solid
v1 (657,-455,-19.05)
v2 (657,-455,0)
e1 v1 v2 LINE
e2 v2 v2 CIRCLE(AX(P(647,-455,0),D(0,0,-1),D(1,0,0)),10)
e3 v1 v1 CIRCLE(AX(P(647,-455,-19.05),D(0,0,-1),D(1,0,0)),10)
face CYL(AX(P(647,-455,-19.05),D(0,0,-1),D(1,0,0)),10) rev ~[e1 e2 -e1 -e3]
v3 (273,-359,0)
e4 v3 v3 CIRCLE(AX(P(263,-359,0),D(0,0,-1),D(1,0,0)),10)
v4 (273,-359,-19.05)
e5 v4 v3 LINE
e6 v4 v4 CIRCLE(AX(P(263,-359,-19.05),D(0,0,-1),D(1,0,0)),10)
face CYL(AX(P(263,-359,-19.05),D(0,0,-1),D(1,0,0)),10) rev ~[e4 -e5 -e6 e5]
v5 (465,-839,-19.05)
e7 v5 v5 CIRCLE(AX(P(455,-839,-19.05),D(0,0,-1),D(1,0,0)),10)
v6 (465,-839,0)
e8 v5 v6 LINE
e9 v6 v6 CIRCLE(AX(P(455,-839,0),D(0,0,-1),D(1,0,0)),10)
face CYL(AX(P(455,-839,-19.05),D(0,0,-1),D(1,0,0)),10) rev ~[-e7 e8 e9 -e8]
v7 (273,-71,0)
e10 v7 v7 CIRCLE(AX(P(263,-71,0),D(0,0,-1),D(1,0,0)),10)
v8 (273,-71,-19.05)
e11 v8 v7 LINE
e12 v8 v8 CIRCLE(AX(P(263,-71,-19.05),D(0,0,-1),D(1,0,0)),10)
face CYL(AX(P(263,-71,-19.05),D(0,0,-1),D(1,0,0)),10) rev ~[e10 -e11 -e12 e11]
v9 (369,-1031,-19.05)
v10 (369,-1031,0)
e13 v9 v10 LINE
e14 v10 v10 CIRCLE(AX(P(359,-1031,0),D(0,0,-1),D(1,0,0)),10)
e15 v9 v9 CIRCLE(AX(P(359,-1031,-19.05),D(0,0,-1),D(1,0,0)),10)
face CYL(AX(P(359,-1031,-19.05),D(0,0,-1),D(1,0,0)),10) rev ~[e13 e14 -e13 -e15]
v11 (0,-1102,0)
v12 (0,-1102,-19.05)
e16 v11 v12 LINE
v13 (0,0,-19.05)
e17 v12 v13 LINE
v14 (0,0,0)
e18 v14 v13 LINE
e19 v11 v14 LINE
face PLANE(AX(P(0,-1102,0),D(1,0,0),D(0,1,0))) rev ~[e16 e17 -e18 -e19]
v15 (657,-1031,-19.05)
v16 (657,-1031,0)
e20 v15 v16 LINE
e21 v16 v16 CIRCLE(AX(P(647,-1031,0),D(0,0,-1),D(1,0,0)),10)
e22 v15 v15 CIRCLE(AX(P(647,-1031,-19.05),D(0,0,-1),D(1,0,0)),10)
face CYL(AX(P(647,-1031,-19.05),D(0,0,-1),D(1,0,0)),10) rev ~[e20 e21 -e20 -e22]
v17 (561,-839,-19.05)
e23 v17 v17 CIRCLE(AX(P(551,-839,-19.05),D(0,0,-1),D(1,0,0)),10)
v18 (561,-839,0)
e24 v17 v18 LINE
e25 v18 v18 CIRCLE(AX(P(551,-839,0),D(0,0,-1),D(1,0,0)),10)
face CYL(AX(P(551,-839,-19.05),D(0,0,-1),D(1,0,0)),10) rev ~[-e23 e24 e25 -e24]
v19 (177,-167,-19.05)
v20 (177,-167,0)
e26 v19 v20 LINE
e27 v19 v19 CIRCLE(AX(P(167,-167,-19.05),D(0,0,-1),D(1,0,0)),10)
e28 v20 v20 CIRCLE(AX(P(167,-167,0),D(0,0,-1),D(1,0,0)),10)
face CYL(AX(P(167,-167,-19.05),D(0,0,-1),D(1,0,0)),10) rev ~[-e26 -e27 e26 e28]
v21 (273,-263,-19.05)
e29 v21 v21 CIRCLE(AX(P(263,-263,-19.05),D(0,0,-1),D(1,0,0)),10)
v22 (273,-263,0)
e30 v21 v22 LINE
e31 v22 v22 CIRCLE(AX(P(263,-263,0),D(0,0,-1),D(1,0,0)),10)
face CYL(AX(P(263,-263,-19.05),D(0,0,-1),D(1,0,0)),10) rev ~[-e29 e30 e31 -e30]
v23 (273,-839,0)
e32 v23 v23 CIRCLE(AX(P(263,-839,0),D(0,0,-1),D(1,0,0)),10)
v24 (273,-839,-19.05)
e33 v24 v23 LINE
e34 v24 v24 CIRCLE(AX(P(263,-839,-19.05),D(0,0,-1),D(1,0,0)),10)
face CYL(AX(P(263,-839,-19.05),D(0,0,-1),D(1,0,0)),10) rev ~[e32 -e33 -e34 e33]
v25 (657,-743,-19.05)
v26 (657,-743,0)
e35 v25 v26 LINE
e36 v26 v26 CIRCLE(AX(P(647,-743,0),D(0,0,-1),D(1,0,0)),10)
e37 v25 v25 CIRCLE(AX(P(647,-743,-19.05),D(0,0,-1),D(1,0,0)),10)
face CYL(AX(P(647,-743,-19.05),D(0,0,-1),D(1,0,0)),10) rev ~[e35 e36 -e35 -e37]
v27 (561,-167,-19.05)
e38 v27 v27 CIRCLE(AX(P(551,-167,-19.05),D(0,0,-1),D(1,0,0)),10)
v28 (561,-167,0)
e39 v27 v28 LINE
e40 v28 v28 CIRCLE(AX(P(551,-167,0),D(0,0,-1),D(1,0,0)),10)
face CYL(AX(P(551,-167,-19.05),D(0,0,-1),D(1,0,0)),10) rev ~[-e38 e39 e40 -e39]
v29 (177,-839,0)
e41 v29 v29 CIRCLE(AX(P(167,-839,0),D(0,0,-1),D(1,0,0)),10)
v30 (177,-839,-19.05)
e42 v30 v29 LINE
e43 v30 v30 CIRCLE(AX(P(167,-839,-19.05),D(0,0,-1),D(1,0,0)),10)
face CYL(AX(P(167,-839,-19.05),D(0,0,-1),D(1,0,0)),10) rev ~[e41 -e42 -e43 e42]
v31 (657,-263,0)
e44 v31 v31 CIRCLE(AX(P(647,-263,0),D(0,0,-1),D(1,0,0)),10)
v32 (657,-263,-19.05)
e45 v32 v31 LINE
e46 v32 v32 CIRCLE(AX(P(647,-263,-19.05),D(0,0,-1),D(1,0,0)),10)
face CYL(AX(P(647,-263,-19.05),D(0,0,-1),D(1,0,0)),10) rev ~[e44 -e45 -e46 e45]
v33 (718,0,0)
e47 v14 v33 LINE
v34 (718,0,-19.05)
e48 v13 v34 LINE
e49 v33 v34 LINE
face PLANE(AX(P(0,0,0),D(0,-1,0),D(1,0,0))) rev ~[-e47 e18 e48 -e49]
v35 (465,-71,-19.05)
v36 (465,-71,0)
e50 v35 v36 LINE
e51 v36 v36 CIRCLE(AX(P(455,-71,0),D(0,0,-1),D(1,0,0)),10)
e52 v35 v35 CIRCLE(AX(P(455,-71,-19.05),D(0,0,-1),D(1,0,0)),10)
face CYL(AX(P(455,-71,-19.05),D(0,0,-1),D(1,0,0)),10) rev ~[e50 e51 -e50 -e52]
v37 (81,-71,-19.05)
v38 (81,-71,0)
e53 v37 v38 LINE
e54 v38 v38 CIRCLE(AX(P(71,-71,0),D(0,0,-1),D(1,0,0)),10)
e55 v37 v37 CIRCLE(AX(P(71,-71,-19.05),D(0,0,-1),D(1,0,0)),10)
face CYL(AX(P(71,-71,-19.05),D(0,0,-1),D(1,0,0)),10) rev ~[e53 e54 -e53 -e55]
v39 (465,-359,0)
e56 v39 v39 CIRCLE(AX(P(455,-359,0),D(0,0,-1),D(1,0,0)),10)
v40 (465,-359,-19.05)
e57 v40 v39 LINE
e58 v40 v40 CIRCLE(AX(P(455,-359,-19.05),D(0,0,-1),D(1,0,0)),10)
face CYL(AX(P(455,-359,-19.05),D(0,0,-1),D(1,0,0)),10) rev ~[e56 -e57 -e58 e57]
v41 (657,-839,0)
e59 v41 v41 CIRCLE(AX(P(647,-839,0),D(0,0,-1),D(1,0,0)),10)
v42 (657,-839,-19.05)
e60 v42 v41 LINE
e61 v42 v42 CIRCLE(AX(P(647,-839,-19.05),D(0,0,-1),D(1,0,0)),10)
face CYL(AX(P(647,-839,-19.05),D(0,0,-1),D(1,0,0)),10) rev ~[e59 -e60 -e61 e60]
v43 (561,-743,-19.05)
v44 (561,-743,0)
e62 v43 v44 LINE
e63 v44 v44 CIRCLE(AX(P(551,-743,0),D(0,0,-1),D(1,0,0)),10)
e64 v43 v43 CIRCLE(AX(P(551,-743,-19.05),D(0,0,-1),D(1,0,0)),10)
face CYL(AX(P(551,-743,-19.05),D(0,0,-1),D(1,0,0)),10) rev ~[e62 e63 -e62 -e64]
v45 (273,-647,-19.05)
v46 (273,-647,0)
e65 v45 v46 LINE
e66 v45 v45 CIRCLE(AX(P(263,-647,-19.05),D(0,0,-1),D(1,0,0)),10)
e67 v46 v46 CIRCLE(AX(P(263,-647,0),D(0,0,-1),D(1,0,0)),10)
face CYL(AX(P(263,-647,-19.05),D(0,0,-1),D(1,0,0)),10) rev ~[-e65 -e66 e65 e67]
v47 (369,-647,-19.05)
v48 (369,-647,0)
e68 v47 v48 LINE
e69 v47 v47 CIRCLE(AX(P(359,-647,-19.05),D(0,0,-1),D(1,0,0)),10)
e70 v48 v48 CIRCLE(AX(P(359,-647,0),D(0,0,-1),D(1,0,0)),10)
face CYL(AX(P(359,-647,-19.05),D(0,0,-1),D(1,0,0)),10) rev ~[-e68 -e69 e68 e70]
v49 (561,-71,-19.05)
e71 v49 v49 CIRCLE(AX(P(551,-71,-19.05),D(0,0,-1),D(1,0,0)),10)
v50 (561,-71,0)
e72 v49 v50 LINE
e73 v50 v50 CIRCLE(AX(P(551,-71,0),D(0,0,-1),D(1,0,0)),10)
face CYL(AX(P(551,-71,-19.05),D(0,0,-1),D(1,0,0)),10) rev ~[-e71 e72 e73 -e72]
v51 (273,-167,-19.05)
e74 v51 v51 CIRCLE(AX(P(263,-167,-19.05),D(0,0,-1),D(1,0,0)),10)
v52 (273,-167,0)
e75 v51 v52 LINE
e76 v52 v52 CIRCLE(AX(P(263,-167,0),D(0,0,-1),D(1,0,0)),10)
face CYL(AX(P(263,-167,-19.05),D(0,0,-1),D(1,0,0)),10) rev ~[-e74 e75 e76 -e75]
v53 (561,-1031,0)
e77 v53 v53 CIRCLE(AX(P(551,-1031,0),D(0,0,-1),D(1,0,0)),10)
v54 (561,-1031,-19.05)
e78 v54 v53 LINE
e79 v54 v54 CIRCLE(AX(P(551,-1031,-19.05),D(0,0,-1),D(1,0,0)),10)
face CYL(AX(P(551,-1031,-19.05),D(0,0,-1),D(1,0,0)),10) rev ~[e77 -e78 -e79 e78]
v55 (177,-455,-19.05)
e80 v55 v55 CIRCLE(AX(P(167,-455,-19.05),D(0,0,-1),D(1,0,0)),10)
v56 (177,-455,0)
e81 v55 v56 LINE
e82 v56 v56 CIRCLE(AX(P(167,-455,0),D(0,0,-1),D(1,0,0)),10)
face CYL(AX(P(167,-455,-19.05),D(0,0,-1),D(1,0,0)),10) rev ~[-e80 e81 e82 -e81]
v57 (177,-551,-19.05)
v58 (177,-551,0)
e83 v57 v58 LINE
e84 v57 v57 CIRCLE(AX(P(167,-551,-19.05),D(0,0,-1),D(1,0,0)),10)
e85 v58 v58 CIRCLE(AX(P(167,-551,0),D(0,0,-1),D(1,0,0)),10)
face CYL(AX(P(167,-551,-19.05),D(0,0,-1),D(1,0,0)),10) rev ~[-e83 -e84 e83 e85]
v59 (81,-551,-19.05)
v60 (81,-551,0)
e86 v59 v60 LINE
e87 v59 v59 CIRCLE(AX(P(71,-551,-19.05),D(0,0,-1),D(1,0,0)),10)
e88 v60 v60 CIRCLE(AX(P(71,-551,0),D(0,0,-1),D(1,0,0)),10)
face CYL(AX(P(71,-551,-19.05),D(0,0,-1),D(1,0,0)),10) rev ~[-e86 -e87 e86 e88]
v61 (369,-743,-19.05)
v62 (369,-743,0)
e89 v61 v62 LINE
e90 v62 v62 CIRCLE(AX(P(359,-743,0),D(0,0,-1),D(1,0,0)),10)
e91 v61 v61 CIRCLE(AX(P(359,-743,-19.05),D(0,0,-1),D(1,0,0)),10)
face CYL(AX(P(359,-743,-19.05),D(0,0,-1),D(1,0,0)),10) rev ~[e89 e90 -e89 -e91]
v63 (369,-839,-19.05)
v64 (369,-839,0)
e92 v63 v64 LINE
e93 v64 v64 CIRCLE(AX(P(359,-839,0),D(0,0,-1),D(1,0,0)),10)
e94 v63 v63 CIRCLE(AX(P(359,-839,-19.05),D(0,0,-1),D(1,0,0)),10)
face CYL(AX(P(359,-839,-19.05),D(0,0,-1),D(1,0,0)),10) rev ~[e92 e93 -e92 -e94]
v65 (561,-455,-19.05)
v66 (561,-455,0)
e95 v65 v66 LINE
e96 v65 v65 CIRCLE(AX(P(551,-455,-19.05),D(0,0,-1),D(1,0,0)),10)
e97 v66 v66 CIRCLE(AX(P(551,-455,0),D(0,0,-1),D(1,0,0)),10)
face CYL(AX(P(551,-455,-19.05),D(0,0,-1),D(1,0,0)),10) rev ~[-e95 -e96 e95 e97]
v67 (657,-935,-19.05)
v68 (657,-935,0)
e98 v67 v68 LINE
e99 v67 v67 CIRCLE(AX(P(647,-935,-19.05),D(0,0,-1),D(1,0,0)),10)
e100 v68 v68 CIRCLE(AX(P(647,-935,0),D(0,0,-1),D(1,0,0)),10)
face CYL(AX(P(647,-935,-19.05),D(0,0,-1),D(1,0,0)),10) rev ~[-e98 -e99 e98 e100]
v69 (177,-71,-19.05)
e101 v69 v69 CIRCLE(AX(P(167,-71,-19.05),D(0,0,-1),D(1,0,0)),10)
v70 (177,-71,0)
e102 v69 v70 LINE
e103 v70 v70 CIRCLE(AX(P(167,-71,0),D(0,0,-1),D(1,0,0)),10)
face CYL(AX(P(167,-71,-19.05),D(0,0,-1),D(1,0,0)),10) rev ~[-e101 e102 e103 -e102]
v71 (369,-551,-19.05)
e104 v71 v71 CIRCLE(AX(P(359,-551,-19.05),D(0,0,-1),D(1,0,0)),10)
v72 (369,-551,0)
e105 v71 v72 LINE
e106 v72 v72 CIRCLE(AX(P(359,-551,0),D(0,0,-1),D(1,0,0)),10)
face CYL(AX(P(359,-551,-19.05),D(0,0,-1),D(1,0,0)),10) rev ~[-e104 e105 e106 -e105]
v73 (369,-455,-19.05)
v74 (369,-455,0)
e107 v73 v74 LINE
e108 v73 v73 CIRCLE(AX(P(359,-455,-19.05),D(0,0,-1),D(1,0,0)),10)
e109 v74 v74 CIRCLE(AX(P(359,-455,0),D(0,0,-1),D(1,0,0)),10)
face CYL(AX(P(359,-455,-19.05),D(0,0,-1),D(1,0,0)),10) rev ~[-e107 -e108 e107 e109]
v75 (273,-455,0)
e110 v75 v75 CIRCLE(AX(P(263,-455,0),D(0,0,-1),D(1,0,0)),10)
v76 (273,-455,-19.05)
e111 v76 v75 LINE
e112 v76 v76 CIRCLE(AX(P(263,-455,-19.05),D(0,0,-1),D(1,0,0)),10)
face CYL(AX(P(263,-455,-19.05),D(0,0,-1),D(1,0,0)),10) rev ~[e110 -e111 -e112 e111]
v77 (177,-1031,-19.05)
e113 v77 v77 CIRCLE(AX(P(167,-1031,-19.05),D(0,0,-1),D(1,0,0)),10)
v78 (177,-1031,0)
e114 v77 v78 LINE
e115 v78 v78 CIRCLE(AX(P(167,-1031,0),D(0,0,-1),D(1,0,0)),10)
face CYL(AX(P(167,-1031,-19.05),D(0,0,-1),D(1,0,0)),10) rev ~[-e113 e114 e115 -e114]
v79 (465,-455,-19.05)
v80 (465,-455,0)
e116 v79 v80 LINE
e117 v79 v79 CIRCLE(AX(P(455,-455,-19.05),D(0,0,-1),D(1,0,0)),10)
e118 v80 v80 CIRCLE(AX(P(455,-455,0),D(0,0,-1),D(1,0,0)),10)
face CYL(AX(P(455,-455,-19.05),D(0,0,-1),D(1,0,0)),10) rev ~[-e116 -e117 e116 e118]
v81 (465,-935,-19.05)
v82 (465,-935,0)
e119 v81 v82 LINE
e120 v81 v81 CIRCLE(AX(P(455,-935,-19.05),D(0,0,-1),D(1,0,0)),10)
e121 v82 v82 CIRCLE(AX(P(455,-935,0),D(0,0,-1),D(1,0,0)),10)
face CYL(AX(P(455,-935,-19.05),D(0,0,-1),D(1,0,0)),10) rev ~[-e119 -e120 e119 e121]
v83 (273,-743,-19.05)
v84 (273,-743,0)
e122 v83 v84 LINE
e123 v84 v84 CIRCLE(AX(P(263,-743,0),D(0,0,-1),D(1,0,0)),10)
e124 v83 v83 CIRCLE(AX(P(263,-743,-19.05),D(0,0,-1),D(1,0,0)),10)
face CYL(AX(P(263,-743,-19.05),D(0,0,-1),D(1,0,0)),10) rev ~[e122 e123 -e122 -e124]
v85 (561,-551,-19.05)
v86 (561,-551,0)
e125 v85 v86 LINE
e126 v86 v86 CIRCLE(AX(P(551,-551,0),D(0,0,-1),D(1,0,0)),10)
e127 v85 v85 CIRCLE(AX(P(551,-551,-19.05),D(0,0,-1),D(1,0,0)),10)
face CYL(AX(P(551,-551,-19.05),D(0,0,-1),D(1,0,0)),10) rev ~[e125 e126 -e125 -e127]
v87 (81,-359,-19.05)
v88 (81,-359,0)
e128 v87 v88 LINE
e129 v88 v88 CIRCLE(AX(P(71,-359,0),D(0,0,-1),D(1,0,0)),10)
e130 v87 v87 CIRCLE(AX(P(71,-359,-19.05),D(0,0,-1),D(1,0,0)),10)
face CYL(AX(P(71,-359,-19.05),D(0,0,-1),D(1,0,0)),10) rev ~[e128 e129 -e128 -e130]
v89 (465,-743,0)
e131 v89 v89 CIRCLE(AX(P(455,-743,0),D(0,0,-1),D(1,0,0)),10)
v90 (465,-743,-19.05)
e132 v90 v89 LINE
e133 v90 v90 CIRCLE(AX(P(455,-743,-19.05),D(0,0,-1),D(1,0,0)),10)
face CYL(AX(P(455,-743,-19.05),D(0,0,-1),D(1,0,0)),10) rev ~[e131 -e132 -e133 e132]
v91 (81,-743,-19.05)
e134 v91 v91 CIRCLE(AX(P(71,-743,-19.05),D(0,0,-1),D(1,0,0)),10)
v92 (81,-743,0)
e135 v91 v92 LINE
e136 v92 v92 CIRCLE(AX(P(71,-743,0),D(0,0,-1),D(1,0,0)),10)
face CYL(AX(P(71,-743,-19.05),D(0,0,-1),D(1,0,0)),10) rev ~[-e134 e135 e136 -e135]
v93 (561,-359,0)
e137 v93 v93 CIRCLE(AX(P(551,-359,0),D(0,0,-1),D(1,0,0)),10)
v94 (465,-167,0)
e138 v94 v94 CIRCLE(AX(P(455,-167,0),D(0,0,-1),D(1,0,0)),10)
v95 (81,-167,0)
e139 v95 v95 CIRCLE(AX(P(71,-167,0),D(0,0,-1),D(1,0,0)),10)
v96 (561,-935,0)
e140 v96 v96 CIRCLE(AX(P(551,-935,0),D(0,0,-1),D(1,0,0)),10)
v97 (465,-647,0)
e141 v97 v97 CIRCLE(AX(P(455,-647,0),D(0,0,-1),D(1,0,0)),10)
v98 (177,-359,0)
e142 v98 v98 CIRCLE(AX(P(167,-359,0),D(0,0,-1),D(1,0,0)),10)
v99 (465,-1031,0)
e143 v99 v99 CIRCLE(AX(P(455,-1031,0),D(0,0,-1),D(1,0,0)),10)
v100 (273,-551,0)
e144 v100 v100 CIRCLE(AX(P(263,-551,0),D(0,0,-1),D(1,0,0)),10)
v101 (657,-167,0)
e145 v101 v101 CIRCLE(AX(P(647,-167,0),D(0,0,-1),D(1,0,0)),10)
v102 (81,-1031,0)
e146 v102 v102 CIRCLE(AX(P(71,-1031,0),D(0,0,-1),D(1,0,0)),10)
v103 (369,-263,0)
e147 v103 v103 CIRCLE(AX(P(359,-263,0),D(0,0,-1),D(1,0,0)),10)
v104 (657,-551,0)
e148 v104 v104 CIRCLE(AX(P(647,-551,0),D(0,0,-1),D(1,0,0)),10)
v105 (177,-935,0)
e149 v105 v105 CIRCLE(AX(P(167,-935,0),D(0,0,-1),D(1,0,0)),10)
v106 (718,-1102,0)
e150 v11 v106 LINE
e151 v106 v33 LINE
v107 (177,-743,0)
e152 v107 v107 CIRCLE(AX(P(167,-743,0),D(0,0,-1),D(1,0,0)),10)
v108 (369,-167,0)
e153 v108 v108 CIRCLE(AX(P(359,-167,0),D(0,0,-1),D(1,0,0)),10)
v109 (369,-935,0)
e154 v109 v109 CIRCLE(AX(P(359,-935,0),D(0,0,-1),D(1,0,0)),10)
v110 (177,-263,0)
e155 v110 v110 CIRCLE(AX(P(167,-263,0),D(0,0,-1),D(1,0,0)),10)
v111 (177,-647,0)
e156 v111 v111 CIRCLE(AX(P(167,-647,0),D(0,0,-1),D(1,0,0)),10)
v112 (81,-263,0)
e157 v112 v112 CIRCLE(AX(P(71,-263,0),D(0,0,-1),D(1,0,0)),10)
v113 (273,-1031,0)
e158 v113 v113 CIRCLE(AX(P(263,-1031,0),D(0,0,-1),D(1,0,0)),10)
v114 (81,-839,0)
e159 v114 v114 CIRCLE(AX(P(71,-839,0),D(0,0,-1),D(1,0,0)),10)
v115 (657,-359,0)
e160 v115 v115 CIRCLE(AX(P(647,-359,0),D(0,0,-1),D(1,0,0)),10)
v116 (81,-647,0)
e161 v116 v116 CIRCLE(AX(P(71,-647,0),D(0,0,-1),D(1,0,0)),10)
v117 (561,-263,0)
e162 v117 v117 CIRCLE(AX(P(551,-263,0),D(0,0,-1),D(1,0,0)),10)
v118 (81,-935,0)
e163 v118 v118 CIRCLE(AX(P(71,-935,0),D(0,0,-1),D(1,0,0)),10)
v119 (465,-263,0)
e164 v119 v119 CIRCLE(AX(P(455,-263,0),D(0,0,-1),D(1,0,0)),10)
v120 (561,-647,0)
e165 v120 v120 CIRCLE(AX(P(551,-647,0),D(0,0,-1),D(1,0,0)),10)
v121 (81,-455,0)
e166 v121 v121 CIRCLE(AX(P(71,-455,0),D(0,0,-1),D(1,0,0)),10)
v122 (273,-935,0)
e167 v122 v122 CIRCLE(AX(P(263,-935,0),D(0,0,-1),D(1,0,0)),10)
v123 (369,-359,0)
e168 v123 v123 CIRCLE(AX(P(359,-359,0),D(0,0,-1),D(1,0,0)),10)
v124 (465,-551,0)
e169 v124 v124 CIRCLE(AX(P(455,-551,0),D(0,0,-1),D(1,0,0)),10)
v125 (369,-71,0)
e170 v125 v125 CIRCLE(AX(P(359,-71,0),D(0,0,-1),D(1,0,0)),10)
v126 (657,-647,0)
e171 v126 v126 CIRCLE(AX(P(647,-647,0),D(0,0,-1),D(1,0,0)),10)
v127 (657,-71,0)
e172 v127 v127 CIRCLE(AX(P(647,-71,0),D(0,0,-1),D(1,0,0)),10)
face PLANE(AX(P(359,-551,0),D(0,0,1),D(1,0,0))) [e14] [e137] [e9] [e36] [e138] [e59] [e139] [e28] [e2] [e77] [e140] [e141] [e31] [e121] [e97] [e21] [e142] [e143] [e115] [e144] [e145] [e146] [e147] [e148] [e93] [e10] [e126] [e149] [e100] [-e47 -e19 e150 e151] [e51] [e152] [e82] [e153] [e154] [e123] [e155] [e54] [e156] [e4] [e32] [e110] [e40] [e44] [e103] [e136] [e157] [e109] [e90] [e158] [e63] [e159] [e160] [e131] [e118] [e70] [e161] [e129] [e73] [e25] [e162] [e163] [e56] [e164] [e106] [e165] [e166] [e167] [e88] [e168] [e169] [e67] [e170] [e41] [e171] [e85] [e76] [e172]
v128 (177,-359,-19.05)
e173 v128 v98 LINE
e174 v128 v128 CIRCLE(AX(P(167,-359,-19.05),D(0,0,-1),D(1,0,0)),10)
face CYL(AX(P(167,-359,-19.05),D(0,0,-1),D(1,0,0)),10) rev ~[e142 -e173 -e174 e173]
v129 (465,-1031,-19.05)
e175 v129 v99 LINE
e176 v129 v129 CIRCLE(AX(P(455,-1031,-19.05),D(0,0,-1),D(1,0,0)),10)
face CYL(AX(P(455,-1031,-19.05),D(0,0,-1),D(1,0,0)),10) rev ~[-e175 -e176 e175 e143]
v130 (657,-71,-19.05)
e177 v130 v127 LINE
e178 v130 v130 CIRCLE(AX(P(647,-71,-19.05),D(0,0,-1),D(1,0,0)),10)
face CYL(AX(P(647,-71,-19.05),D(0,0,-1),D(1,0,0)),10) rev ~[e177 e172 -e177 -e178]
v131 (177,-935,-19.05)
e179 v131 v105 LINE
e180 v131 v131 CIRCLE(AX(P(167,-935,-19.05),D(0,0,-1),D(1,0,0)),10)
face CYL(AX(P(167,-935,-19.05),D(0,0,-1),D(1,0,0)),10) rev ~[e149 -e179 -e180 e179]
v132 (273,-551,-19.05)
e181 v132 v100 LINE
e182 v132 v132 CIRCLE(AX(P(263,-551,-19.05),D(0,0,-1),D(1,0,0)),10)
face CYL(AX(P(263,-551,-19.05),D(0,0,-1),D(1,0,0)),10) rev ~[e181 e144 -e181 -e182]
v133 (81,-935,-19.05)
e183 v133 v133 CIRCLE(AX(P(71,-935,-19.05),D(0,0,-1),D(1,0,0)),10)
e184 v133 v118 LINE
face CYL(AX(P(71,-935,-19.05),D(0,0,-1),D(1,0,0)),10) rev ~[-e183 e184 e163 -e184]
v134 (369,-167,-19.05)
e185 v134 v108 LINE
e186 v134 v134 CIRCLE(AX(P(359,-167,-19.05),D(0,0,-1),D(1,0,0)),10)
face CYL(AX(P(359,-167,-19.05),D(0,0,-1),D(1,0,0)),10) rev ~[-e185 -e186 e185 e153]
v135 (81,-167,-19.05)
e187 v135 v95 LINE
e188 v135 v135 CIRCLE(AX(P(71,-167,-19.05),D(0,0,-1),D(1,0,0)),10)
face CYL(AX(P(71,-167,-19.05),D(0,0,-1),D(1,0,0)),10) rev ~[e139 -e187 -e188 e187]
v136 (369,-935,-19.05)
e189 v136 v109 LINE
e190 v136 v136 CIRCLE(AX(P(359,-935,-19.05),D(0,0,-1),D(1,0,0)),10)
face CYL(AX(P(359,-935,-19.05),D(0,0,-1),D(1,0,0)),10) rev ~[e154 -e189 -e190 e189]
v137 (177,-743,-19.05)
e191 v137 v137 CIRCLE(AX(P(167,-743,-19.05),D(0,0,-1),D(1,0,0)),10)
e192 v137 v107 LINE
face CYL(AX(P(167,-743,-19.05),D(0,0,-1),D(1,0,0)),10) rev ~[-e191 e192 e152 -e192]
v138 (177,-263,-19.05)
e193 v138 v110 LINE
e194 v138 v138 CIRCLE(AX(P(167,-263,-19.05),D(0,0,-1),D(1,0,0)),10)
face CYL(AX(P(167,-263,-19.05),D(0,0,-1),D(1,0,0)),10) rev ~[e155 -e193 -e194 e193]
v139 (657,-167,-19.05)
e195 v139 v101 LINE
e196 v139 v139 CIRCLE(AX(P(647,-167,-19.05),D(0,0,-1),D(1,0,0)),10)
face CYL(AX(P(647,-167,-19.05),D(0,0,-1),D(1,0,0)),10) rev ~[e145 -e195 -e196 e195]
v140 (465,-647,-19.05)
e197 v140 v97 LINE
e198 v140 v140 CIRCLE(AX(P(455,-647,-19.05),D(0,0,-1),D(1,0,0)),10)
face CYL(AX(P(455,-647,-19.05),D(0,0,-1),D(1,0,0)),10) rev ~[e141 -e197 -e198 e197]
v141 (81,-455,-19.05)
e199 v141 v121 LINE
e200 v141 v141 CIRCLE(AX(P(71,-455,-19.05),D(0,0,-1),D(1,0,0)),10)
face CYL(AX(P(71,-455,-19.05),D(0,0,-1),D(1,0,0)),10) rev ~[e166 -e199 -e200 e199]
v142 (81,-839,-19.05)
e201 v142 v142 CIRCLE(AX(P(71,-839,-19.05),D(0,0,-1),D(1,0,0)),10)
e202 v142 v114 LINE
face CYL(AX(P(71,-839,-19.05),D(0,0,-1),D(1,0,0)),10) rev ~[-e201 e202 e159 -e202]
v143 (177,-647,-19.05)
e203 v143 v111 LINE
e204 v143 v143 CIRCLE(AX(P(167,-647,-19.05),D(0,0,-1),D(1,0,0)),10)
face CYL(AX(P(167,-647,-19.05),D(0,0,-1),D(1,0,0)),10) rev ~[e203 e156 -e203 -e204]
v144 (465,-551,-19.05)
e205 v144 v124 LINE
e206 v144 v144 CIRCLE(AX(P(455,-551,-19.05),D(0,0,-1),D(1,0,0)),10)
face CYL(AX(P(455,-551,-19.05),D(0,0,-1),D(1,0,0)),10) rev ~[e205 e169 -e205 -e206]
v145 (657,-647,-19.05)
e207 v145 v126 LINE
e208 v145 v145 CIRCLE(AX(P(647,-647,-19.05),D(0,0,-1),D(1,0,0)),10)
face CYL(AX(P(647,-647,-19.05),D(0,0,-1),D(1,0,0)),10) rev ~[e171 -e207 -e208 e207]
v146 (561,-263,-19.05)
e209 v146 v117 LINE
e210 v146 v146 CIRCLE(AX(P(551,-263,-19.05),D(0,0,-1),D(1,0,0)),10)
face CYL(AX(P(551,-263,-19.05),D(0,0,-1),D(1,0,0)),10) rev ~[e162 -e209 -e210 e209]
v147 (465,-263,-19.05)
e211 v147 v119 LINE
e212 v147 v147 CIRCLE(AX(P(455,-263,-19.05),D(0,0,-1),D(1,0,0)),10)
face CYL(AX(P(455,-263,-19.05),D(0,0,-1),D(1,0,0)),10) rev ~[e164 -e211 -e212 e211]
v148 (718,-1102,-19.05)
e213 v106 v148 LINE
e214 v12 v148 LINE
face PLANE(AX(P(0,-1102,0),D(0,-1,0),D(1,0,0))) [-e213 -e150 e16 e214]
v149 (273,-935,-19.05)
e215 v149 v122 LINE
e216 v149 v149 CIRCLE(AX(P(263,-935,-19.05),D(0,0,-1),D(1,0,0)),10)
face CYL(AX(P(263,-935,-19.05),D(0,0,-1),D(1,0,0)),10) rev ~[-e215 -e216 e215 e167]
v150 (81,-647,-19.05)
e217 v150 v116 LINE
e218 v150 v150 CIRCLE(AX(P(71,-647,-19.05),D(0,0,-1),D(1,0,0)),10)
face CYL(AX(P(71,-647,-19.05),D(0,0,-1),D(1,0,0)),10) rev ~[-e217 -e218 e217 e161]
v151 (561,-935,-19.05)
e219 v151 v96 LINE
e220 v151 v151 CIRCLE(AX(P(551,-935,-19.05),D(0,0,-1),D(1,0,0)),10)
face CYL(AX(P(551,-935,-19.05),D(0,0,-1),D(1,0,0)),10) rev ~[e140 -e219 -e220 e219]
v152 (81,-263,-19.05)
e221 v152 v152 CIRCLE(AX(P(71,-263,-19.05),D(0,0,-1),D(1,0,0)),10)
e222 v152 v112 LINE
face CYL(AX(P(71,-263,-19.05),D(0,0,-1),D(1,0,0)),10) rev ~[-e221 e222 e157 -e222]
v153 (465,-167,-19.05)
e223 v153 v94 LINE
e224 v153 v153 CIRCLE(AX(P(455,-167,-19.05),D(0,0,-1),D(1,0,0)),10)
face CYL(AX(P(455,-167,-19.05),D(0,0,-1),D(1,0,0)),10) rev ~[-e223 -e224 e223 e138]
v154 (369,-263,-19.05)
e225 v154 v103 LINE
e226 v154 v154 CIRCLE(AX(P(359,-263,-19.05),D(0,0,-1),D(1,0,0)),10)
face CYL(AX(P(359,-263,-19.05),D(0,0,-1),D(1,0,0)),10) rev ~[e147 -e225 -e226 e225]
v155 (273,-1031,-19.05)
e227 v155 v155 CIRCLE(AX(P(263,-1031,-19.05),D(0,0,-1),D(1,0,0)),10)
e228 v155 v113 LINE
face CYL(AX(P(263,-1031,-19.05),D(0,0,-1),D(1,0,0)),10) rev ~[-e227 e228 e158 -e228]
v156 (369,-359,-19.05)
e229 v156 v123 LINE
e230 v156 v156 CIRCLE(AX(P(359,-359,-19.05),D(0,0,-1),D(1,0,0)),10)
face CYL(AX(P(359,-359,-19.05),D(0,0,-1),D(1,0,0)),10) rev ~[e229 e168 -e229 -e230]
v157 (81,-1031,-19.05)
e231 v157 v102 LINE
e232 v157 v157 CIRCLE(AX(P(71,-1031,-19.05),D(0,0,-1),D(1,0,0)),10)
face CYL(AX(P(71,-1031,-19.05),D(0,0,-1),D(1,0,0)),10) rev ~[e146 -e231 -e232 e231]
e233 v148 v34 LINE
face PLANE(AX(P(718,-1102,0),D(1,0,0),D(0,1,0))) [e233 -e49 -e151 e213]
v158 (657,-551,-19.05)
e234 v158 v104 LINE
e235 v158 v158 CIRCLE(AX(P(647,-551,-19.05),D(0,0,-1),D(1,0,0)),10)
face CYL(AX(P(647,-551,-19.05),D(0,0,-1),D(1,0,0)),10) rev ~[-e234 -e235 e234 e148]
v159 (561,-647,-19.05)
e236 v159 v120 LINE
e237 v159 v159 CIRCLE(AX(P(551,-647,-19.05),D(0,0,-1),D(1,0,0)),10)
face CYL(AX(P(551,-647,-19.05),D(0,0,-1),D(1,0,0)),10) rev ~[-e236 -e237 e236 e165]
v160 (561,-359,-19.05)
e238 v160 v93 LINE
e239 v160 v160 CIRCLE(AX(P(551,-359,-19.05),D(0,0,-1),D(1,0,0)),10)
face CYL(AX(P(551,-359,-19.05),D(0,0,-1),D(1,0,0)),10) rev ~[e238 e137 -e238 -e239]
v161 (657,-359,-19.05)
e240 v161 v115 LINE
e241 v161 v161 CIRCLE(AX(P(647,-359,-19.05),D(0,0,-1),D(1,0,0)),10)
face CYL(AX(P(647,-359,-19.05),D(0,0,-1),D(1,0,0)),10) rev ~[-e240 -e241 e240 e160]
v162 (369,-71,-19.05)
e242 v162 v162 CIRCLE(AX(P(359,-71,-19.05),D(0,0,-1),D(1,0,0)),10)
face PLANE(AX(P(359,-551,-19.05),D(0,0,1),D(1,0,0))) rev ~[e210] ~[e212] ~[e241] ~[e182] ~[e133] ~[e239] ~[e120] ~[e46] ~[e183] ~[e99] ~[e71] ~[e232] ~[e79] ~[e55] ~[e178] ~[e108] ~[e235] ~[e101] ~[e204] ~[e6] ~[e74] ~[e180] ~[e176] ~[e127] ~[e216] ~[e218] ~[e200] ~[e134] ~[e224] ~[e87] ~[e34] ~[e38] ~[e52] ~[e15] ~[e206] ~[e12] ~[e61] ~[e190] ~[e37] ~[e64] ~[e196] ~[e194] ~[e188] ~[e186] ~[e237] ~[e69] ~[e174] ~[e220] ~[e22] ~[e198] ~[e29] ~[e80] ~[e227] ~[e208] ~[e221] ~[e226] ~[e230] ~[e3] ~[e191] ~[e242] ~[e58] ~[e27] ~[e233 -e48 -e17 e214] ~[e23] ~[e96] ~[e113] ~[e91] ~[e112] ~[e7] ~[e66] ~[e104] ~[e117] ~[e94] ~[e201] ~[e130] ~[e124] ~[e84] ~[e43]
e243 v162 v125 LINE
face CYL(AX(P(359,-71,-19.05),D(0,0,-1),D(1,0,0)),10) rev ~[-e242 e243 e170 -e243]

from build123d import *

# Parameters (mm, degrees)
F0_W     = 718
F0_H     = 1102
F1_DEPTH = 19.05
F2_R     = 10
F3_DEPTH = 19.051


with BuildPart() as f1:
    # F0 (on Top) → F1 (new body)
    with BuildSketch(Plane.XY):
        with Locations((359, -551)):
            Rectangle(F0_W, F0_H)
    extrude(amount=-F1_DEPTH)

    # F2 (on face) → F3 (cut, through all)
    with BuildSketch(Plane(origin=(0, 0, -19.05), x_dir=(1, 0, 0), z_dir=(0, 0, -1))):
        with Locations((359, 551)):
            Circle(F2_R)
        with Locations((263, 551)):
            Circle(F2_R)
        with Locations((647, 935)):
            Circle(F2_R)
        with Locations((263, 935)):
            Circle(F2_R)
        with Locations((359, 263)):
            Circle(F2_R)
        with Locations((71, 263)):
            Circle(F2_R)
        with Locations((551, 1031)):
            Circle(F2_R)
        with Locations((647, 167)):
            Circle(F2_R)
        with Locations((263, 743)):
            Circle(F2_R)
        with Locations((71, 71)):
            Circle(F2_R)
        with Locations((455, 359)):
            Circle(F2_R)
        with Locations((647, 263)):
            Circle(F2_R)
        with Locations((263, 839)):
            Circle(F2_R)
        with Locations((359, 71)):
            Circle(F2_R)
        with Locations((71, 359)):
            Circle(F2_R)
        with Locations((263, 167)):
            Circle(F2_R)
        with Locations((647, 455)):
            Circle(F2_R)
        with Locations((455, 71)):
            Circle(F2_R)
        with Locations((455, 1031)):
            Circle(F2_R)
        with Locations((455, 167)):
            Circle(F2_R)
        with Locations((359, 359)):
            Circle(F2_R)
        with Locations((167, 263)):
            Circle(F2_R)
        with Locations((167, 359)):
            Circle(F2_R)
        with Locations((71, 647)):
            Circle(F2_R)
        with Locations((359, 455)):
            Circle(F2_R)
        with Locations((551, 839)):
            Circle(F2_R)
        with Locations((455, 263)):
            Circle(F2_R)
        with Locations((647, 839)):
            Circle(F2_R)
        with Locations((167, 935)):
            Circle(F2_R)
        with Locations((263, 1031)):
            Circle(F2_R)
        with Locations((167, 455)):
            Circle(F2_R)
        with Locations((551, 647)):
            Circle(F2_R)
        with Locations((263, 359)):
            Circle(F2_R)
        with Locations((167, 551)):
            Circle(F2_R)
        with Locations((551, 743)):
            Circle(F2_R)
        with Locations((647, 551)):
            Circle(F2_R)
        with Locations((359, 1031)):
            Circle(F2_R)
        with Locations((71, 743)):
            Circle(F2_R)
        with Locations((71, 551)):
            Circle(F2_R)
        with Locations((647, 743)):
            Circle(F2_R)
        with Locations((71, 839)):
            Circle(F2_R)
        with Locations((551, 71)):
            Circle(F2_R)
        with Locations((647, 71)):
            Circle(F2_R)
        with Locations((359, 167)):
            Circle(F2_R)
        with Locations((167, 167)):
            Circle(F2_R)
        with Locations((167, 647)):
            Circle(F2_R)
        with Locations((167, 839)):
            Circle(F2_R)
        with Locations((71, 167)):
            Circle(F2_R)
        with Locations((647, 359)):
            Circle(F2_R)
        with Locations((263, 71)):
            Circle(F2_R)
        with Locations((647, 1031)):
            Circle(F2_R)
        with Locations((263, 647)):
            Circle(F2_R)
        with Locations((263, 455)):
            Circle(F2_R)
        with Locations((551, 455)):
            Circle(F2_R)
        with Locations((551, 359)):
            Circle(F2_R)
        with Locations((71, 935)):
            Circle(F2_R)
        with Locations((71, 455)):
            Circle(F2_R)
        with Locations((455, 935)):
            Circle(F2_R)
        with Locations((551, 935)):
            Circle(F2_R)
        with Locations((551, 263)):
            Circle(F2_R)
        with Locations((71, 1031)):
            Circle(F2_R)
        with Locations((359, 935)):
            Circle(F2_R)
        with Locations((455, 839)):
            Circle(F2_R)
        with Locations((551, 551)):
            Circle(F2_R)
        with Locations((359, 647)):
            Circle(F2_R)
        with Locations((455, 743)):
            Circle(F2_R)
        with Locations((455, 647)):
            Circle(F2_R)
        with Locations((455, 551)):
            Circle(F2_R)
        with Locations((359, 839)):
            Circle(F2_R)
        with Locations((167, 1031)):
            Circle(F2_R)
        with Locations((647, 647)):
            Circle(F2_R)
        with Locations((359, 743)):
            Circle(F2_R)
        with Locations((167, 743)):
            Circle(F2_R)
        with Locations((167, 71)):
            Circle(F2_R)
        with Locations((551, 167)):
            Circle(F2_R)
        with Locations((263, 263)):
            Circle(F2_R)
        with Locations((455, 455)):
            Circle(F2_R)
    extrude(amount=-F3_DEPTH, mode=Mode.SUBTRACT)


solid = f1.part
